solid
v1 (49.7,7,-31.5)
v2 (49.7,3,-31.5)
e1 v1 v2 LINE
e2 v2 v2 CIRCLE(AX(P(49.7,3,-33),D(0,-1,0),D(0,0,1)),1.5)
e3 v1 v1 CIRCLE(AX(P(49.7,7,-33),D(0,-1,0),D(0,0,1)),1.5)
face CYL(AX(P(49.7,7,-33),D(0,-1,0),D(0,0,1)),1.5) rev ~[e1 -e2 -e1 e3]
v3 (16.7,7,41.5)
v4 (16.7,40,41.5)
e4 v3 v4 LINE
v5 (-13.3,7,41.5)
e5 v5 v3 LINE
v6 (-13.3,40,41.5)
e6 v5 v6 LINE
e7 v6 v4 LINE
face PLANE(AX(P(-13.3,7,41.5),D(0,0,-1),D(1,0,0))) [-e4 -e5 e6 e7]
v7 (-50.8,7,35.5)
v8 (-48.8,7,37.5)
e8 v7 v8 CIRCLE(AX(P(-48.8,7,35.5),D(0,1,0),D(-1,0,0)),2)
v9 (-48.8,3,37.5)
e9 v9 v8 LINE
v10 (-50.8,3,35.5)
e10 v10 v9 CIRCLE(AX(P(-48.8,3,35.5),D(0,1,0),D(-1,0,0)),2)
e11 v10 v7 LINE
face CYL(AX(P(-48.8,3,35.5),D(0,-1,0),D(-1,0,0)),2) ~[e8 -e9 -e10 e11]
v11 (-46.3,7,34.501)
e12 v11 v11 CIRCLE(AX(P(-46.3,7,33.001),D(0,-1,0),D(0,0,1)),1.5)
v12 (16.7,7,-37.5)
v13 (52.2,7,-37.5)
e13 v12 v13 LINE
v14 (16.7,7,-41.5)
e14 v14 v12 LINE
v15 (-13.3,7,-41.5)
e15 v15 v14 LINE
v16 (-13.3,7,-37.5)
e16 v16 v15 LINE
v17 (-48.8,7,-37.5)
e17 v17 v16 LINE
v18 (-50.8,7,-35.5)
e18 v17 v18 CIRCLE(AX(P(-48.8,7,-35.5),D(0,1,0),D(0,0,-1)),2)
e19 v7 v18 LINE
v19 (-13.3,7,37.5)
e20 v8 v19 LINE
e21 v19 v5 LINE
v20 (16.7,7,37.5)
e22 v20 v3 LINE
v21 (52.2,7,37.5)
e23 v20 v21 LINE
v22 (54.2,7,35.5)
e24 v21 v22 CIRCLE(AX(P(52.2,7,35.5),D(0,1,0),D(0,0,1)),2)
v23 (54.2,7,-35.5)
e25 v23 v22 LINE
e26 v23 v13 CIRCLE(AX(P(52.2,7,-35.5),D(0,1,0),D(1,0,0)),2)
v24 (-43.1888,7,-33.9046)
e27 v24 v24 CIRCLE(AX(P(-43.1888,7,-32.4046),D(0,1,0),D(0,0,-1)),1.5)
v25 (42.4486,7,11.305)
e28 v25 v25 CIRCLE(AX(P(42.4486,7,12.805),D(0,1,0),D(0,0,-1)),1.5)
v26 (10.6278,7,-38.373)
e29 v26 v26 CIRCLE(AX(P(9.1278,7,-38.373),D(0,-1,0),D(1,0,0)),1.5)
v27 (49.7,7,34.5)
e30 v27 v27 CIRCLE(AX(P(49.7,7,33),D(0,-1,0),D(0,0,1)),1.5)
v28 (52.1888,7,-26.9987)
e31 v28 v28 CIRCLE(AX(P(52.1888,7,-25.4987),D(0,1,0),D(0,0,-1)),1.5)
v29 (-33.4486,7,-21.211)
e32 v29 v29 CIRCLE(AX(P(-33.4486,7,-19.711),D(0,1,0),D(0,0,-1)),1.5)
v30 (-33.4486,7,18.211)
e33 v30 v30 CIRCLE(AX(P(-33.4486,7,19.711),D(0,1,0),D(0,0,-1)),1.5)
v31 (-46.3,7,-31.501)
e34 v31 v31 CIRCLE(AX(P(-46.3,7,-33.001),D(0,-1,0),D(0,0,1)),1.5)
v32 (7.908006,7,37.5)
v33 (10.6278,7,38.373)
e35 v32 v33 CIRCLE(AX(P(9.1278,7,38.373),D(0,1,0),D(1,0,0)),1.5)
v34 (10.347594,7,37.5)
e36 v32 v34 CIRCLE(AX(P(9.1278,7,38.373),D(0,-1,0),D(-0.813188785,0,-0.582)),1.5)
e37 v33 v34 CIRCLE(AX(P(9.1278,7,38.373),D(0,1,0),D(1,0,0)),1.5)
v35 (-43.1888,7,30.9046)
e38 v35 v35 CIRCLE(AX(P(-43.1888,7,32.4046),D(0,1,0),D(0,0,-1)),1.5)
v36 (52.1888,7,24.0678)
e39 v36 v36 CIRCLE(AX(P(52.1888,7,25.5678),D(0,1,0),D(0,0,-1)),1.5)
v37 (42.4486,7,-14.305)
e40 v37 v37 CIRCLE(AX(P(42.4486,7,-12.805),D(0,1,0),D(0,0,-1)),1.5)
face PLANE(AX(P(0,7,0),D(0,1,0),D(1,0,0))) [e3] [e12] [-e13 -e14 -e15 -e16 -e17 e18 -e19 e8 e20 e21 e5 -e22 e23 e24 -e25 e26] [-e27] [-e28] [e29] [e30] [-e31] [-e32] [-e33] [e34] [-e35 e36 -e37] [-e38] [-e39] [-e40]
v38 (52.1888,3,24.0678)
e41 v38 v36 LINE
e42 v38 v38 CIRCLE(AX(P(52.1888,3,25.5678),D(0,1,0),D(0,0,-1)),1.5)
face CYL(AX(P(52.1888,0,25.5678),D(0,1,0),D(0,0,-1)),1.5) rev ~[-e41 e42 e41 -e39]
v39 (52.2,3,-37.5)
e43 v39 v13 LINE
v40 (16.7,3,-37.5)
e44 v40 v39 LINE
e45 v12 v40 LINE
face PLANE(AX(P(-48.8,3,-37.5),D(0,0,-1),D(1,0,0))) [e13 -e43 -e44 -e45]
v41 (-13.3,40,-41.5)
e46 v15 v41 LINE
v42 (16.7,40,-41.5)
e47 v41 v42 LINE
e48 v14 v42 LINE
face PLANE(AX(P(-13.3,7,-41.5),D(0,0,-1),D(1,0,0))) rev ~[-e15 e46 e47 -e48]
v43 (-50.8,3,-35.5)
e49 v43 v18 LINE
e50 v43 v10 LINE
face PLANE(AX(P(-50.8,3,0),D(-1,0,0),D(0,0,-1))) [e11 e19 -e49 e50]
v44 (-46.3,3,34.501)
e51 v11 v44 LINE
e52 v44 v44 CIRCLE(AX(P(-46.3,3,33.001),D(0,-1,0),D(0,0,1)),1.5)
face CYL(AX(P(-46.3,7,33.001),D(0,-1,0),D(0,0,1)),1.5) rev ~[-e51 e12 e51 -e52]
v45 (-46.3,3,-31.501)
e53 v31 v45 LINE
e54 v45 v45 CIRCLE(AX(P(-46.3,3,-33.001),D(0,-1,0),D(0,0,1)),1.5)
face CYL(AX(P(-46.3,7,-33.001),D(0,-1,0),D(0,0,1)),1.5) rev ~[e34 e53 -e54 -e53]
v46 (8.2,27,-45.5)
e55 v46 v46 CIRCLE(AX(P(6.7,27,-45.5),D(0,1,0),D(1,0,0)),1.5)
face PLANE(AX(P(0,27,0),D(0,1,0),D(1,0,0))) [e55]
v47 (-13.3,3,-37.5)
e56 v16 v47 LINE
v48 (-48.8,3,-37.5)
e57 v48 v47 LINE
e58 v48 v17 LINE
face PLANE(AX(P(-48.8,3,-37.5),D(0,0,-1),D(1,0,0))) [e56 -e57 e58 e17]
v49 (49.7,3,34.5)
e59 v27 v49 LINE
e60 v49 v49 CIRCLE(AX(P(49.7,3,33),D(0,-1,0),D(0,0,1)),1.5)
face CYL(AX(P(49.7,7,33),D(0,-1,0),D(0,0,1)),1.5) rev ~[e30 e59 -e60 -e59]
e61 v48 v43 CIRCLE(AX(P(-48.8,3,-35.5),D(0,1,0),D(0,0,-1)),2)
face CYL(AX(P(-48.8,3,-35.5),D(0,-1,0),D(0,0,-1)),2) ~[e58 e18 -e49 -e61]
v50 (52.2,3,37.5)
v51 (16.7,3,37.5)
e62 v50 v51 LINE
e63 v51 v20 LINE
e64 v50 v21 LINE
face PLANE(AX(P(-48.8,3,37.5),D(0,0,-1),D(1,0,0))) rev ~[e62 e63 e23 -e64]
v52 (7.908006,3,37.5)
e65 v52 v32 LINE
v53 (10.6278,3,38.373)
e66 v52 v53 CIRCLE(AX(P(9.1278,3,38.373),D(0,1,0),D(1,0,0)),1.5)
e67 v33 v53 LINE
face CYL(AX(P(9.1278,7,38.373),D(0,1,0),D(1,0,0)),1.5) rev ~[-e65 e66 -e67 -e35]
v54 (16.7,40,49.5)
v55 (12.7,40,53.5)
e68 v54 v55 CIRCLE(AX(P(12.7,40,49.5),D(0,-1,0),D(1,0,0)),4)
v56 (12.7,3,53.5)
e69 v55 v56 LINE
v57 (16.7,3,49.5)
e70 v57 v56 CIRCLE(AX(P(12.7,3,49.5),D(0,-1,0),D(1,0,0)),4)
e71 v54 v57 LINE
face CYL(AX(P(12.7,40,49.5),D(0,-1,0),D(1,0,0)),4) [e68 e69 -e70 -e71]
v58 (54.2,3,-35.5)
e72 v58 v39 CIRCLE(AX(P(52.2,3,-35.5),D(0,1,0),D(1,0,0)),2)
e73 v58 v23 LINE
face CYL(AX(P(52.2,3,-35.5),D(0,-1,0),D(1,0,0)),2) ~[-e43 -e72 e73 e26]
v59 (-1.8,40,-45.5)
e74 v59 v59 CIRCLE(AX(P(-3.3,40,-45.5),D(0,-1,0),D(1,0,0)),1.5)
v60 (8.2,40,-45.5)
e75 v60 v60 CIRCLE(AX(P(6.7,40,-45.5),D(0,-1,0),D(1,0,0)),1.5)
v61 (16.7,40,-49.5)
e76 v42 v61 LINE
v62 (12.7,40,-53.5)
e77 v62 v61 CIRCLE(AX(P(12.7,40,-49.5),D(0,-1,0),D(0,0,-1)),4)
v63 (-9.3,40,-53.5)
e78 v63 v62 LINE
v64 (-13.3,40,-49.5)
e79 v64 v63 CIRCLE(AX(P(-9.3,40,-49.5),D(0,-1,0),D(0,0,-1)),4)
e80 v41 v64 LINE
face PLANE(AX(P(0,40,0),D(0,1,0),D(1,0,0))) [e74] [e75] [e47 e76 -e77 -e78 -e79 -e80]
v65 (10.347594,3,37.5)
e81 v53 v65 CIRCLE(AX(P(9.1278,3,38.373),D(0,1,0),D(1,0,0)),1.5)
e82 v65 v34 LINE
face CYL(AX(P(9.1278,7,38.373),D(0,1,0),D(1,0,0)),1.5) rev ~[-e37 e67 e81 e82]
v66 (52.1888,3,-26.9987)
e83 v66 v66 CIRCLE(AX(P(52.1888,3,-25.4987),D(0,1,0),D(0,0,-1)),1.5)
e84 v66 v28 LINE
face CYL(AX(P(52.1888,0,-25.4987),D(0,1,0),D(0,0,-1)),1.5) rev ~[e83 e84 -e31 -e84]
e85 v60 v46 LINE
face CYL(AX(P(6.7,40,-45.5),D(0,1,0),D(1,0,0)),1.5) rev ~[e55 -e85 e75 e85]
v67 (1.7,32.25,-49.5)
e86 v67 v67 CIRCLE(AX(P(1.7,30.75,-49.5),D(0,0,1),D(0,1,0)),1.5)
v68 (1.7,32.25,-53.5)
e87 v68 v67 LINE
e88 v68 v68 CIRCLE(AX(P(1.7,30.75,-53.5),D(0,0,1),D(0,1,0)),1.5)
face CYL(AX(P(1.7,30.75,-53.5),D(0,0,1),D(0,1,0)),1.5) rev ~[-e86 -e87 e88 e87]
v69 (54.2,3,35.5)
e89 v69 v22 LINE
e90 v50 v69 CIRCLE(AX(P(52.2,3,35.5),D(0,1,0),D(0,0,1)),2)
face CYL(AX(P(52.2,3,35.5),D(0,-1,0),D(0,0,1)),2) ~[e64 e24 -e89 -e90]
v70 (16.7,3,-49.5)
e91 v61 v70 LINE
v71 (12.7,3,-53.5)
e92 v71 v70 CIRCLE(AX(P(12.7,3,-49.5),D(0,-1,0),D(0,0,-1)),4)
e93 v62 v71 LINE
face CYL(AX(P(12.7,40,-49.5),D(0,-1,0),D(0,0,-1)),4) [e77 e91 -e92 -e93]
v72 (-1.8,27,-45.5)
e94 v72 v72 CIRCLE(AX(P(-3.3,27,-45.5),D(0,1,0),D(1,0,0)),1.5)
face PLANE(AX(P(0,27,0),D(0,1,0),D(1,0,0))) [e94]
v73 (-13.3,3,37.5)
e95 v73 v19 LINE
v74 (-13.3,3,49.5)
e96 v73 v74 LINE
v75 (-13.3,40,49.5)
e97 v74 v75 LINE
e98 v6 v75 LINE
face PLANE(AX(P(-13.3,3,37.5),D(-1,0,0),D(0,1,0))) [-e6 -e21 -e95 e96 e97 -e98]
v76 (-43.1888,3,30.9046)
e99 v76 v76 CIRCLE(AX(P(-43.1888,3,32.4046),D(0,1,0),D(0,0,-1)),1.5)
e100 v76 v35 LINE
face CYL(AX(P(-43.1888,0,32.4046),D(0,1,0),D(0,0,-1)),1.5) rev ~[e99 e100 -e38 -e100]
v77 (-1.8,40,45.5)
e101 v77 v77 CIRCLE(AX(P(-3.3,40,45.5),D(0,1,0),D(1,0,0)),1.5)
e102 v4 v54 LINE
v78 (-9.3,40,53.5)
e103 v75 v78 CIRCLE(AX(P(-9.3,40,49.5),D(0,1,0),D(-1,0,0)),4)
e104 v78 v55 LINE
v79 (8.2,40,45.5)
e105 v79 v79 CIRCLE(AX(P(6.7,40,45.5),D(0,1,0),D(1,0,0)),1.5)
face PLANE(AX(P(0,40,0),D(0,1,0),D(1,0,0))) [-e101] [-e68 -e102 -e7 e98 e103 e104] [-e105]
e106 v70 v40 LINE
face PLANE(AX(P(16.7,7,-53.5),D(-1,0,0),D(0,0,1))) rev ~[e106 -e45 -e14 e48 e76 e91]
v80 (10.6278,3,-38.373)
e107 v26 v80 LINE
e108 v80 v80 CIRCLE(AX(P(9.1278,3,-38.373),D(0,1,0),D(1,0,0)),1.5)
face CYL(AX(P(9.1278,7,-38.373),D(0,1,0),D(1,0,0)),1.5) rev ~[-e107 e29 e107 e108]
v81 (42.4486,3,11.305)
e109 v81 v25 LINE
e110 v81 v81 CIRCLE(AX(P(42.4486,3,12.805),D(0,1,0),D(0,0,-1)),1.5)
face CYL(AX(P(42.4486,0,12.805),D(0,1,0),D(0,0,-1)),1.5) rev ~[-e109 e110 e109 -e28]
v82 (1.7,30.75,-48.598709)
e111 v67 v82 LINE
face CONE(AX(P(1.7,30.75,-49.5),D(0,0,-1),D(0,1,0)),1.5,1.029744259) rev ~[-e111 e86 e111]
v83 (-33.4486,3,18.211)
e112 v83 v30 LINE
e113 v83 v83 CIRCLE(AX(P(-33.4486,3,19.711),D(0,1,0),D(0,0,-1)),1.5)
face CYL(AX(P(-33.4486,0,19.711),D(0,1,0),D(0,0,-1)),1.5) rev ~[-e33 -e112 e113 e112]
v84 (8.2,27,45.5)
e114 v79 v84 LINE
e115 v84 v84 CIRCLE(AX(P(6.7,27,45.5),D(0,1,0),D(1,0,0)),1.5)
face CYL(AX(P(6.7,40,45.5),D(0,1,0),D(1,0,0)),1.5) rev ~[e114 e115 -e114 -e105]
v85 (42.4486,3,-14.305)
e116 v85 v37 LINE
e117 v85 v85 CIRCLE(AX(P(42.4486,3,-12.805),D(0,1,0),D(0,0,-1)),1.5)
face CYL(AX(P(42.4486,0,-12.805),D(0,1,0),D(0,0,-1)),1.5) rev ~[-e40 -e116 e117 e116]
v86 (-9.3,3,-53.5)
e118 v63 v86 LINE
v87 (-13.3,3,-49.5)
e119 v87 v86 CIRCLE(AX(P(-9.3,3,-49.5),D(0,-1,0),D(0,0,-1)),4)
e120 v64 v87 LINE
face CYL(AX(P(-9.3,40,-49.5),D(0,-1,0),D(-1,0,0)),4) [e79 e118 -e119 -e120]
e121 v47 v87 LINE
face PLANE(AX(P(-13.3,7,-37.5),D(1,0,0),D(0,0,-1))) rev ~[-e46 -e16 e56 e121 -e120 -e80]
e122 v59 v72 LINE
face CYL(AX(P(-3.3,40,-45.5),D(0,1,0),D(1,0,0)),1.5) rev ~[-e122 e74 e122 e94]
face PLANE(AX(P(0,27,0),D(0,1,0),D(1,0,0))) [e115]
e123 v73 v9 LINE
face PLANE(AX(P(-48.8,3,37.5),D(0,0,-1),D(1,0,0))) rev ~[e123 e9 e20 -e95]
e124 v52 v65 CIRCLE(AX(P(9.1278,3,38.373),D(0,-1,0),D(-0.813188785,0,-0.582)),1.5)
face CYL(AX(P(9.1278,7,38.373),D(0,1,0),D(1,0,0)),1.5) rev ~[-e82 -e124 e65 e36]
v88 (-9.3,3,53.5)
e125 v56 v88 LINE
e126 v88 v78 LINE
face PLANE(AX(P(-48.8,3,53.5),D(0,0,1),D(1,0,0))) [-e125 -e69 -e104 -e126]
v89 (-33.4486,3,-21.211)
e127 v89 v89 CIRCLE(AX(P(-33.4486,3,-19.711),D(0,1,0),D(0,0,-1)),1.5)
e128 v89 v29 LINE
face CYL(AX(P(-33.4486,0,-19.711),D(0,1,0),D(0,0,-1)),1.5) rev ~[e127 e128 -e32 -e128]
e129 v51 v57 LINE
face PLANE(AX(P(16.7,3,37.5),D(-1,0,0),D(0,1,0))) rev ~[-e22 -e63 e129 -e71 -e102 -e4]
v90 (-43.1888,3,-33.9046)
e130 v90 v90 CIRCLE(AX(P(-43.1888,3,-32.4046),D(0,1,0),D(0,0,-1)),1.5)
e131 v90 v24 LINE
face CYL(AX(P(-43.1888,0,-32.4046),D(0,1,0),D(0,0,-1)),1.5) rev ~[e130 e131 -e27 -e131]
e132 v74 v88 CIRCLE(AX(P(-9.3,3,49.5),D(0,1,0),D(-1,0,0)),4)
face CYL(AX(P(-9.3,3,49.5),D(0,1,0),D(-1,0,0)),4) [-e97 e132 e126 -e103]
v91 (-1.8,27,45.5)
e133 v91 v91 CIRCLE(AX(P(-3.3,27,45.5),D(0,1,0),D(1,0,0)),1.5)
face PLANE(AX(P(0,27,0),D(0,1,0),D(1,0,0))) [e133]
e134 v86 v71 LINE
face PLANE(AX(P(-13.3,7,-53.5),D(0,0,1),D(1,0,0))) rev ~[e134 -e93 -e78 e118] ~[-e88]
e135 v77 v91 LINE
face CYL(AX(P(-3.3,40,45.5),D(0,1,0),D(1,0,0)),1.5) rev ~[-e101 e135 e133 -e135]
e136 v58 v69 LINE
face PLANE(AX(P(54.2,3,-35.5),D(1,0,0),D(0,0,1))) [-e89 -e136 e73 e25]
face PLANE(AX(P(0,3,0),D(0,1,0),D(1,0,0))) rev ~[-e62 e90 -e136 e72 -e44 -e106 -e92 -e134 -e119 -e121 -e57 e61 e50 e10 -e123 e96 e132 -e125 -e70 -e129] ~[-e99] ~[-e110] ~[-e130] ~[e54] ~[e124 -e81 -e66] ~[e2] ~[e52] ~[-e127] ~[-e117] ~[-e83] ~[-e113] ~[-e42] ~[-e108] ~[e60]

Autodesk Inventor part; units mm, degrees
ref_plane "YZ Plane" through (0, 0, 0) normal (1, 0, 0) x (0, 1, 0)
ref_plane "XZ Plane" through (0, 0, 0) normal (0, 1, 0) x (-1, 0, 0)
ref_plane "XY Plane" through (0, 0, 0) normal (0, 0, 1) x (1, 0, 0)
sketch "Boceto1" plane through (0, 0, 0) normal (0, 1, 0) x (-1, 0, 0)
  line L0 (0, 0) -> (0, -87) construction
  line L1 (0, 0) -> (0, 83.8978) construction
  line L2 (0, 0) -> (-87, 0) construction
  line L3 (0, 0) -> (59, 0) construction
  line L4 (-74.5, -10) -> (-49.5, -10)
  line L5 (-49.5, -10) -> (-49.5, 10)
  line L6 (-49.5, 10) -> (-74.5, 10)
  line L7 (-74.5, 10) -> (-74.5, -10)
  line L8 (-74.5, -10) -> (-49.5, 10) construction
  line L9 (-49.5, -10) -> (-74.5, 10) construction
  line L10 (-18, 63.0769) -> (-64.0145, 27.7688)
  line L11 (9, 69.9829) -> (55.0145, 34.6747)
  line L12 (9, 69.9829) -> (20.2282, 84.6157)
  line L13 (-18, 63.0769) -> (-31.752, 80.9988)
  line L14 (-64.0145, 27.7688) -> (-75.6609, 42.9467)
  line L15 (-18, -63.0769) -> (-64.0145, -27.7688)
  line L16 (9, -69.9829) -> (55.0145, -34.6747)
  line L17 (9, -69.9829) -> (20.2282, -84.6157)
  line L18 (-18, -63.0769) -> (-31.752, -80.9988)
  line L19 (-64.0145, -27.7688) -> (-75.6609, -42.9467)
  arc A0 (-75.6609, 42.9467) -> (-75.6609, -42.9467) centre (0, 0) ccw
  arc A1 (20.2282, 84.6157) -> (-31.752, 80.9988) centre (0, 0) ccw
  arc A2 (-31.752, -80.9988) -> (20.2282, -84.6157) centre (0, 0) ccw
  line L20 (59, 37.9189) -> (59, -37.9189)
  line L21 (58.0583, 38.6415) -> (59, 37.9189)
  line L22 (55.0145, 34.6747) -> (58.0583, 38.6415)
  line L23 (58.0583, -38.6415) -> (59, -37.9189)
  line L24 (55.0145, -34.6747) -> (58.0583, -38.6415)
  circle A3 centre (-18.868, 51.0667) radius 1.5
  circle A4 centre (-52.1888, 25.4987) radius 1.5
  line L25 (-41.0072, 45.4229) -> (-35.5284, 38.2827) construction
  line L26 (-18.868, 51.0667) -> (-52.1888, 25.4987) construction
  line L27 (32.0072, 52.3288) -> (22.9685, 40.5493) construction
  circle A5 centre (9.868, 57.9726) radius 1.5
  circle A6 centre (43.1888, 32.4046) radius 1.5
  circle A7 centre (-18.868, -51.0667) radius 1.5
  circle A8 centre (-52.1888, -25.4987) radius 1.5
  circle A9 centre (9.868, -57.9726) radius 1.5
  circle A10 centre (43.1888, -32.4046) radius 1.5
  line L28 (43.1888, 32.4046) -> (9.868, 57.9726) construction
  point P0 (-62, 0)
  point P1 (-74.5, 0)
  point P2 (26.5284, 45.1886)
  dimension "d1" = 25
  dimension "d2" = 20
  dimension "d9" = 52.5
  dimension "d10" = 52.5
  dimension "d11" = 61
  dimension "d12" = 61
  dimension "d13" = 58
  dimension "d17" = 90
  dimension "d18" = 9
  dimension "d19" = 18
  dimension "d20" = 58
  dimension "d21" = 90
  dimension "d22" = 90
  dimension "d23" = 87
  dimension "d24" = 87
  dimension "d26" = 59
  dimension "d27" = 5
  dimension "d28" = 5
  dimension "d29" = 3
  dimension "d30" = 3
  dimension "d31" = 42
  dimension "d32" = 9
  dimension "d37" = 90
  dimension "d38" = 3
  dimension "d39" = 3
  dimension "d40" = 42
  dimension "d41" = 9
  dimension "d54" = 62
extrude "Extrusión1" add sketch "Boceto1" along normal blind 3
sketch "Boceto2" plane through (0, 3, 0) normal (0, 1, 0) x (1, 0, 0)
  line L0 (-55.0145, -34.6747) -> (-9, -69.9829) projected
  line L1 (-32.0072, -52.3288) -> (-0.1642, -10.8301) construction
  circle A0 centre (-33.4486, -19.711) radius 1.55
  circle A1 centre (-0.1278, -45.2789) radius 1.55
  line L2 (-33.4486, -19.711) -> (-0.1278, -45.2789) construction
  circle A2 centre (-43.1888, -32.4046) radius 1.5 construction
  line L3 (18, -63.0769) -> (64.0145, -27.7688) projected
  line L4 (41.0072, -45.4229) -> (14.3892, -10.7335) construction
  circle A3 centre (9.1278, -38.373) radius 1.55
  circle A4 centre (42.4486, -12.805) radius 1.55
  line L5 (42.4486, -12.805) -> (9.1278, -38.373) construction
  circle A5 centre (18.868, -51.0667) radius 1.5 construction
  line L6 (-59, 37.9189) -> (-59, -37.9189) construction
  line L7 (-59, 0) -> (115.874, 0) construction
  circle A6 centre (-33.4486, 19.711) radius 1.55
  circle A7 centre (-0.1278, 45.2789) radius 1.55
  circle A8 centre (9.1278, 38.373) radius 1.55
  circle A9 centre (42.4486, 12.805) radius 1.55
  point P0 (0, 0)
  dimension "d44" = 3.1
  dimension "d45" = 3.1
  dimension "d46" = 21
  dimension "d47" = 42
  dimension "d48" = 16
  dimension "d51" = 16
  dimension "d52" = 21
  dimension "d53" = 42
extrude "Extrusión2" cut sketch "Boceto2" against normal blind 10
sketch "Boceto3" plane through (0, 3, 0) normal (0, 1, 0) x (1, 0, 0)
  circle A0 centre (0, 0) radius 90 construction
  dimension "d55" = 180
sketch "Boceto5" plane through (0, 3, 0) normal (0, 1, 0) x (1, 0, 0)
  arc A0 (75.6609, -42.9467) -> (75.6609, 42.9467) centre (0, 0) ccw construction
  line L0 (87, 0) -> (-107.1861, 0) construction
  line L1 (-55.0145, -34.6747) -> (-9, -69.9829) projected
  line L2 (-9, -69.9829) -> (5.2804, -80.9406)
  line L3 (5.2804, -80.9406) -> (0.6326, -86.9977)
  arc A1 (-20.2282, -84.6157) -> (31.752, -80.9988) centre (0, 0) ccw projected
  line L4 (31.752, -80.9988) -> (18, -63.0769) projected
  line L5 (18, -63.0769) -> (4.513, -73.4259)
  line L6 (4.513, -73.4259) -> (9.3831, -79.7727)
  line L7 (9.3831, -79.7727) -> (22.8701, -69.4238)
  line L8 (-55.0145, -34.6747) -> (-59, -31.6165)
  line L9 (-59, 37.9189) -> (-59, -37.9189) projected
  circle A2 centre (42.4486, 12.805) radius 1.55 projected
  circle A3 centre (-33.4486, -19.711) radius 1.55 projected
  circle A4 centre (-33.4486, 19.711) radius 1.55 projected
  circle A5 centre (42.4486, -12.805) radius 1.55 projected
  circle A6 centre (9.1278, 38.373) radius 1.55 projected
  circle A7 centre (-0.1278, -45.2789) radius 1.55 projected
  circle A8 centre (-0.1278, 45.2789) radius 1.55 projected
  circle A9 centre (9.1278, -38.373) radius 1.55 projected
  arc A10 (-20.2282, -84.6157) -> (31.752, -80.9988) centre (0, 0) ccw projected
  line L10 (31.752, -80.9988) -> (18, -63.0769) projected
  line L11 (18, -63.0769) -> (64.0145, -27.7688) projected
  line L12 (64.0145, -27.7688) -> (75.6609, -42.9467) projected
  arc A11 (75.6609, -42.9467) -> (75.6609, 42.9467) centre (0, 0) ccw projected
  line L13 (75.6609, 42.9467) -> (64.0145, 27.7688) projected
  line L14 (64.0145, 27.7688) -> (18, 63.0769) projected
  line L15 (18, 63.0769) -> (31.752, 80.9988) projected
  arc A12 (31.752, 80.9988) -> (-20.2282, 84.6157) centre (0, 0) ccw projected
  line L16 (-20.2282, 84.6157) -> (-9, 69.9829) projected
  line L17 (-9, 69.9829) -> (-55.0145, 34.6747) projected
  line L18 (-55.0145, 34.6747) -> (-58.0583, 38.6415) projected
  line L19 (-58.0583, 38.6415) -> (-59, 37.9189) projected
  line L20 (-59, 37.9189) -> (-59, -37.9189) projected
  line L21 (-59, -37.9189) -> (-58.0583, -38.6415) projected
  line L22 (-58.0583, -38.6415) -> (-55.0145, -34.6747) projected
  line L23 (-55.0145, -34.6747) -> (-9, -69.9829) projected
  line L24 (-9, -69.9829) -> (-20.2282, -84.6157) projected
  circle A13 centre (-43.1888, 32.4046) radius 1.5 projected
  circle A14 centre (-9.868, 57.9726) radius 1.5 projected
  circle A15 centre (18.868, 51.0667) radius 1.5 projected
  circle A16 centre (52.1888, 25.4987) radius 1.5 projected
  circle A17 centre (-43.1888, -32.4046) radius 1.5 projected
  circle A18 centre (-9.868, -57.9726) radius 1.5 projected
  circle A19 centre (52.1888, -25.4987) radius 1.5 projected
  circle A20 centre (18.868, -51.0667) radius 1.5 projected
  line L25 (74.5, 10) -> (74.5, -10) projected
  line L26 (74.5, -10) -> (49.5, -10) projected
  line L27 (49.5, -10) -> (49.5, 10) projected
  line L28 (49.5, 10) -> (74.5, 10) projected
  line L29 (18, -63.0769) -> (64.0145, -27.7688) projected
  line L30 (64.0145, -27.7688) -> (78.2949, -16.8111)
  line L31 (78.2949, -16.8111) -> (83.6749, -23.8225)
  point P0 (-9, -69.9829)
  point P1 (-20.2282, -84.6157)
  dimension "d66" = 18
  dimension "d67" = 17
  dimension "d68" = 8
  dimension "d69" = 18
extrude "Extrusión3" cut sketch "Boceto5" against normal blind 10 contours L22 L21 L9 L8 | L2 L3 A1 L24 | L7 L6 L5 L4 | L30 L31 A11 L12
mirror "Simetría1" about plane through (0, 0, 0) normal (0, 0, 1) of "Extrusión3"
sketch "Boceto6" plane through (0, 3, 0) normal (0, 1, 0) x (1, 0, 0)
  line L0 (-59, 31.6165) -> (-59, -31.6165) projected
  line L1 (-59, 0) -> (-50.8, 0)
  line L2 (-50.8, 0) -> (-50.8, 35.5)
  line L3 (-48.8, 37.5) -> (52.2, 37.5)
  line L4 (54.2, 35.5) -> (54.2, -35.5)
  line L5 (-50.8, 0) -> (-50.8, -35.5)
  line L6 (-48.8, -37.5) -> (52.2, -37.5)
  arc A0 (-50.8, -35.5) -> (-48.8, -37.5) centre (-48.8, -35.5) ccw
  arc A1 (-48.8, 37.5) -> (-50.8, 35.5) centre (-48.8, 35.5) ccw
  arc A2 (54.2, 35.5) -> (52.2, 37.5) centre (52.2, 35.5) ccw
  arc A3 (52.2, -37.5) -> (54.2, -35.5) centre (52.2, -35.5) ccw
  point P0 (0, 0)
  point P1 (-50.8, 37.5)
  point P2 (54.2, 37.5)
  point P3 (54.2, -37.5)
  point P4 (-50.8, -37.5)
  dimension "d72" = 8.2
  dimension "d73" = 37.5
  dimension "d74" = 105
  dimension "d75" = 75
  dimension "d76" = 37.5
  dimension "d77" = 105
  dimension "d78" = 2
extrude "Extrusión4" add sketch "Boceto6" along normal blind 4
sketch "Boceto7" plane through (0, 0, 0) normal (0, -1, 0) x (1, 0, 0)
  circle A0 centre (-33.4486, -19.711) radius 1.55 projected
  circle A1 centre (-33.4486, -19.711) radius 1.55
  circle A2 centre (-43.1888, -32.4046) radius 1.5 projected
  circle A3 centre (-43.1888, -32.4046) radius 1.5
  circle A4 centre (-33.4486, 19.711) radius 1.55 projected
  circle A5 centre (-33.4486, 19.711) radius 1.55
  circle A6 centre (-43.1888, 32.4046) radius 1.5 projected
  circle A7 centre (-43.1888, 32.4046) radius 1.5
  circle A8 centre (9.1278, 38.373) radius 1.55 projected
  circle A9 centre (9.1278, 38.373) radius 1.55
  circle A10 centre (9.1278, -38.373) radius 1.55 projected
  circle A11 centre (9.1278, -38.373) radius 1.55
  circle A12 centre (42.4486, -12.805) radius 1.55 projected
  circle A13 centre (42.4486, -12.805) radius 1.55
  circle A14 centre (42.4486, 12.805) radius 1.55 projected
  circle A15 centre (42.4486, 12.805) radius 1.55
  circle A16 centre (52.1888, -25.4987) radius 1.5 projected
  circle A17 centre (52.1888, -25.4987) radius 1.5
  circle A18 centre (52.1888, 25.5678) radius 1.5016
  point P0 (0, 0)
  dimension "d81" = 3.0032
  dimension "d82" = 3
  dimension "d83" = 3.1
  dimension "d84" = 3.1
  dimension "d85" = 3.1
  dimension "d86" = 3.1
  dimension "d87" = 3.1
  dimension "d88" = 3.1
  dimension "d89" = 3
  dimension "d90" = 3
  dimension "d91" = 51.0664
  dimension "d92" = 16.0549
hole "Agujero1" at (-43.1888, 0, -32.4046) at (-33.4486, 0, -19.711) at (-33.4486, 0, 19.711) at (-43.1888, 0, 32.4046) at (9.1278, 0, -38.373) at (42.4486, 0, -12.805) at (42.4486, 0, 12.805) at (52.1888, 0, 25.5678) at (9.1278, 0, 38.373) direction (0, 1, 0) diameter 3 end through all
sketch "Boceto8" plane through (0, 0, 0) normal (0, -1, 0) x (1, 0, 0)
  circle A0 centre (52.1888, -25.4987) radius 1.5 projected
  circle A1 centre (52.1888, -25.4987) radius 1.5
  point P0 (0, 0)
hole "Agujero2" at (52.1888, 0, -25.4987) direction (0, 1, 0) diameter 3 end through all
sketch "Boceto9" plane through (0, 7, 0) normal (0, 1, 0) x (1, 0, 0)
  circle A0 centre (-46.3, -33.001) radius 2
  line L0 (0, 0) -> (-50.8, 0)
  line L1 (-50.8, 35.5) -> (-50.8, -35.5) projected
  line L2 (0, 0) -> (54.2, 0)
  line L3 (54.2, -10) -> (54.2, 10) projected
  line L4 (0, 0) -> (0, -37.5107)
  line L5 (-50.8, 0) -> (-50.8, -35.5)
  line L6 (-48.8, -37.5) -> (7.908, -37.5) projected
  circle A1 centre (-46.3, 33.001) radius 2
  line L7 (54.2, -10) -> (54.2, -35.2997) projected
  circle A2 centre (49.7, -33) radius 2
  circle A3 centre (49.7, 33) radius 2
  dimension "d109" = 4
  dimension "d114" = 4
  dimension "d118" = 4.5
  dimension "d119" = 70.5
  dimension "d120" = 0.0107
  dimension "d121" = 100.5
  dimension "d122" = 70.501
hole "Agujero3" at (-46.3, 7, -33.001) at (-46.3, 7, 33.001) at (49.7, 7, -33) at (49.7, 7, 33) direction (0, -1, 0) diameter 3 end through all
sketch "Boceto10" plane through (-59, 0, -31.6165) normal (-1, 0, 0) x (0, 0, 1)
  line L0 (-49.3823, 0) -> (-55.3812, 0) projected
  line L1 (118.6142, 3) -> (118.6142, 0) projected
  line L2 (-55.3812, 0) -> (118.6142, 0)
  line L3 (118.6142, 0) -> (118.6142, 3)
  line L4 (118.6142, 3) -> (-55.3812, 3)
  line L5 (-55.3812, 3) -> (-55.3812, 0)
  point P0 (31.6165, 0)
  point P1 (-49.3823, 0)
extrude "Extrusión5" cut sketch "Boceto10" against normal blind 1000
sketch "Boceto11" plane through (-48.8, 3, 37.5) normal (0, 0, 1) x (1, 0, 0)
  line L0 (-2, 0) -> (0, 0) projected
  line L1 (-2, 0) -> (50.5, 0)
  line L2 (56.708, 0) -> (0, 0) construction
  line L3 (50.5, 0) -> (65.5, 0)
  line L4 (50.5, 0) -> (35.5, 0) construction
  line L5 (103, 4) -> (101, 4) projected
  line L6 (103, 4) -> (-2, 4) construction
  line L7 (65.5, 0) -> (65.5, 4)
  line L8 (35.5, 0) -> (35.5, 4)
  line L9 (56.708, 4) -> (0, 4) projected
  line L10 (35.5, 0) -> (50.5, 0)
  line L11 (35.5, 4) -> (65.5, 4)
  line L12 (101, 4) -> (59.1476, 4) projected
  point P0 (48.8, -3)
  point P1 (35.5, 0)
  dimension "d132" = 52.5
  dimension "d133" = 15
  dimension "d134" = 15
extrude "Extrusión6" add sketch "Boceto11" along normal blind 16
sketch "Boceto12" plane through (0, 7, 0) normal (0, 1, 0) x (1, 0, 0)
  line L0 (-50.8, -35.5) -> (-50.8, 35.5) projected
  line L1 (-50.8, 0) -> (54.2, 0)
  line L2 (54.2, -35.5) -> (54.2, 35.5) projected
  line L3 (-13.3, -37.5) -> (-13.3, -53.5) projected
  line L4 (-13.3, -37.5) -> (-13.3, -53.5)
  line L5 (-13.3, -53.5) -> (16.7, -53.5) projected
  line L6 (-13.3, -53.5) -> (16.7, -53.5)
  line L7 (16.7, -53.5) -> (16.7, -37.5)
  line L8 (16.7, -37.5) -> (-13.3, -37.5)
  line L9 (-13.3, 37.5) -> (-13.3, 53.5)
  line L10 (-13.3, 53.5) -> (16.7, 53.5)
  line L11 (16.7, 53.5) -> (16.7, 37.5)
  line L12 (16.7, 37.5) -> (-13.3, 37.5)
  point P0 (0, 0)
extrude "Extrusión7" add sketch "Boceto12" against normal blind 4 contours L9 L10 L11 L12
sketch "Boceto13" plane through (0, 7, 0) normal (0, 1, 0) x (1, 0, 0)
  arc A0 (10.3476, -37.5) -> (7.908, -37.5) centre (9.1278, -38.373) ccw projected
  circle A1 centre (9.1278, -38.373) radius 1.5
  line L0 (0, 0) -> (5.9834, 0)
  circle A2 centre (9.1278, 38.373) radius 1.5
  dimension "d139" = 3
extrude "Extrusión8" cut sketch "Boceto13" against normal blind 4
sketch "Boceto14" plane through (0, 7, 0) normal (0, 1, 0) x (1, 0, 0)
  line L0 (-13.3, -37.5) -> (-13.3, -53.5) projected
  line L1 (-13.3, -53.5) -> (-13.3, -41.5)
  line L2 (-13.3, -41.5) -> (16.7, -41.5)
  line L3 (16.7, -37.5) -> (16.7, -53.5) projected
  line L4 (-13.3, -53.5) -> (16.7, -53.5)
  line L5 (16.7, -53.5) -> (16.7, -41.5)
  line L6 (0, 0) -> (-15.8306, 0)
  line L7 (16.7, -41.5) -> (16.7, -53.5)
  line L8 (-13.3, 37.5) -> (-13.3, 53.5)
  line L9 (-13.3, 41.5) -> (16.7, 41.5)
  line L10 (16.7, 37.5) -> (16.7, 53.5)
  line L11 (-13.3, 53.5) -> (16.7, 53.5)
  dimension "d142" = 12
extrude "Extrusión9" add sketch "Boceto14" along normal blind 33
sketch "Boceto15" plane through (0, 40, 0) normal (0, 1, 0) x (1, 0, 0)
  point P0 (0, 0)
sketch "Boceto16" plane through (0, 40, 0) normal (0, 1, 0) x (1, 0, 0)
  point P0 (0, 0)
fillet "Empalme1" radius 4 4 edges at (16.7, 21.5, -53.5) (-13.3, 21.5, -53.5) (16.7, 21.5, 53.5) (-13.3, 21.5, 53.5)
sketch "Boceto17" plane through (12.7, 40, -53.5) normal (0, 0, -1) x (-1, 0, 0)
  line L0 (0, 0) -> (22, 0) projected
  line L1 (11, 0) -> (11, -37)
  line L2 (22, -37) -> (0, -37) projected
  line L3 (11, -18.5) -> (22, -18.5)
  line L4 (22, 0) -> (22, -37) projected
  line L5 (11, 0) -> (11, -18.5)
  circle A0 centre (11, -9.25) radius 2
  point P0 (12.7, -40)
  dimension "d146" = 4
hole "Agujero4" at (1.7, 30.75, -53.5) direction (0, 0, 1) diameter 3 depth 4 tip angle 118
sketch "Boceto18" plane through (0, 40, 0) normal (0, 1, 0) x (1, 0, 0)
  line L0 (-13.3, 41.5) -> (16.7, 41.5) projected
  line L1 (-13.3, 41.5) -> (16.7, 41.5)
  line L2 (16.7, 41.5) -> (16.7, 49.5)
  line L3 (-13.3, 49.5) -> (-13.3, 41.5) projected
  line L4 (16.7, 49.5) -> (-13.3, 49.5)
  line L5 (16.7, 45.5) -> (-13.3, 45.5)
  line L6 (-13.3, 45.5) -> (-3.3, 45.5)
  circle A0 centre (-3.3, 45.5) radius 1.5
  line L7 (16.7, 45.5) -> (6.7, 45.5)
  circle A1 centre (6.7, 45.5) radius 1.5
  line L8 (53.6389, 0) -> (-50.8, 0)
  line L9 (-50.8, -35.5) -> (-50.8, 35.5) projected
  circle A2 centre (-3.3, -45.5) radius 1.5
  circle A3 centre (6.7, -45.5) radius 1.5
  point P0 (0, 0)
  dimension "d154" = 10
  dimension "d155" = 3
  dimension "d156" = 10
  dimension "d157" = 3
extrude "Extrusión10" cut sketch "Boceto18" against normal blind 13 contours A0 L5 | L5 A0 | A1 L5 | L5 A1 | A2 | A3
ref_plane "Plano de trabajo1" through (0, 0, 0) normal (0, 0, 1) x (1, 0, 0)
properties part number "pablo opencr"
